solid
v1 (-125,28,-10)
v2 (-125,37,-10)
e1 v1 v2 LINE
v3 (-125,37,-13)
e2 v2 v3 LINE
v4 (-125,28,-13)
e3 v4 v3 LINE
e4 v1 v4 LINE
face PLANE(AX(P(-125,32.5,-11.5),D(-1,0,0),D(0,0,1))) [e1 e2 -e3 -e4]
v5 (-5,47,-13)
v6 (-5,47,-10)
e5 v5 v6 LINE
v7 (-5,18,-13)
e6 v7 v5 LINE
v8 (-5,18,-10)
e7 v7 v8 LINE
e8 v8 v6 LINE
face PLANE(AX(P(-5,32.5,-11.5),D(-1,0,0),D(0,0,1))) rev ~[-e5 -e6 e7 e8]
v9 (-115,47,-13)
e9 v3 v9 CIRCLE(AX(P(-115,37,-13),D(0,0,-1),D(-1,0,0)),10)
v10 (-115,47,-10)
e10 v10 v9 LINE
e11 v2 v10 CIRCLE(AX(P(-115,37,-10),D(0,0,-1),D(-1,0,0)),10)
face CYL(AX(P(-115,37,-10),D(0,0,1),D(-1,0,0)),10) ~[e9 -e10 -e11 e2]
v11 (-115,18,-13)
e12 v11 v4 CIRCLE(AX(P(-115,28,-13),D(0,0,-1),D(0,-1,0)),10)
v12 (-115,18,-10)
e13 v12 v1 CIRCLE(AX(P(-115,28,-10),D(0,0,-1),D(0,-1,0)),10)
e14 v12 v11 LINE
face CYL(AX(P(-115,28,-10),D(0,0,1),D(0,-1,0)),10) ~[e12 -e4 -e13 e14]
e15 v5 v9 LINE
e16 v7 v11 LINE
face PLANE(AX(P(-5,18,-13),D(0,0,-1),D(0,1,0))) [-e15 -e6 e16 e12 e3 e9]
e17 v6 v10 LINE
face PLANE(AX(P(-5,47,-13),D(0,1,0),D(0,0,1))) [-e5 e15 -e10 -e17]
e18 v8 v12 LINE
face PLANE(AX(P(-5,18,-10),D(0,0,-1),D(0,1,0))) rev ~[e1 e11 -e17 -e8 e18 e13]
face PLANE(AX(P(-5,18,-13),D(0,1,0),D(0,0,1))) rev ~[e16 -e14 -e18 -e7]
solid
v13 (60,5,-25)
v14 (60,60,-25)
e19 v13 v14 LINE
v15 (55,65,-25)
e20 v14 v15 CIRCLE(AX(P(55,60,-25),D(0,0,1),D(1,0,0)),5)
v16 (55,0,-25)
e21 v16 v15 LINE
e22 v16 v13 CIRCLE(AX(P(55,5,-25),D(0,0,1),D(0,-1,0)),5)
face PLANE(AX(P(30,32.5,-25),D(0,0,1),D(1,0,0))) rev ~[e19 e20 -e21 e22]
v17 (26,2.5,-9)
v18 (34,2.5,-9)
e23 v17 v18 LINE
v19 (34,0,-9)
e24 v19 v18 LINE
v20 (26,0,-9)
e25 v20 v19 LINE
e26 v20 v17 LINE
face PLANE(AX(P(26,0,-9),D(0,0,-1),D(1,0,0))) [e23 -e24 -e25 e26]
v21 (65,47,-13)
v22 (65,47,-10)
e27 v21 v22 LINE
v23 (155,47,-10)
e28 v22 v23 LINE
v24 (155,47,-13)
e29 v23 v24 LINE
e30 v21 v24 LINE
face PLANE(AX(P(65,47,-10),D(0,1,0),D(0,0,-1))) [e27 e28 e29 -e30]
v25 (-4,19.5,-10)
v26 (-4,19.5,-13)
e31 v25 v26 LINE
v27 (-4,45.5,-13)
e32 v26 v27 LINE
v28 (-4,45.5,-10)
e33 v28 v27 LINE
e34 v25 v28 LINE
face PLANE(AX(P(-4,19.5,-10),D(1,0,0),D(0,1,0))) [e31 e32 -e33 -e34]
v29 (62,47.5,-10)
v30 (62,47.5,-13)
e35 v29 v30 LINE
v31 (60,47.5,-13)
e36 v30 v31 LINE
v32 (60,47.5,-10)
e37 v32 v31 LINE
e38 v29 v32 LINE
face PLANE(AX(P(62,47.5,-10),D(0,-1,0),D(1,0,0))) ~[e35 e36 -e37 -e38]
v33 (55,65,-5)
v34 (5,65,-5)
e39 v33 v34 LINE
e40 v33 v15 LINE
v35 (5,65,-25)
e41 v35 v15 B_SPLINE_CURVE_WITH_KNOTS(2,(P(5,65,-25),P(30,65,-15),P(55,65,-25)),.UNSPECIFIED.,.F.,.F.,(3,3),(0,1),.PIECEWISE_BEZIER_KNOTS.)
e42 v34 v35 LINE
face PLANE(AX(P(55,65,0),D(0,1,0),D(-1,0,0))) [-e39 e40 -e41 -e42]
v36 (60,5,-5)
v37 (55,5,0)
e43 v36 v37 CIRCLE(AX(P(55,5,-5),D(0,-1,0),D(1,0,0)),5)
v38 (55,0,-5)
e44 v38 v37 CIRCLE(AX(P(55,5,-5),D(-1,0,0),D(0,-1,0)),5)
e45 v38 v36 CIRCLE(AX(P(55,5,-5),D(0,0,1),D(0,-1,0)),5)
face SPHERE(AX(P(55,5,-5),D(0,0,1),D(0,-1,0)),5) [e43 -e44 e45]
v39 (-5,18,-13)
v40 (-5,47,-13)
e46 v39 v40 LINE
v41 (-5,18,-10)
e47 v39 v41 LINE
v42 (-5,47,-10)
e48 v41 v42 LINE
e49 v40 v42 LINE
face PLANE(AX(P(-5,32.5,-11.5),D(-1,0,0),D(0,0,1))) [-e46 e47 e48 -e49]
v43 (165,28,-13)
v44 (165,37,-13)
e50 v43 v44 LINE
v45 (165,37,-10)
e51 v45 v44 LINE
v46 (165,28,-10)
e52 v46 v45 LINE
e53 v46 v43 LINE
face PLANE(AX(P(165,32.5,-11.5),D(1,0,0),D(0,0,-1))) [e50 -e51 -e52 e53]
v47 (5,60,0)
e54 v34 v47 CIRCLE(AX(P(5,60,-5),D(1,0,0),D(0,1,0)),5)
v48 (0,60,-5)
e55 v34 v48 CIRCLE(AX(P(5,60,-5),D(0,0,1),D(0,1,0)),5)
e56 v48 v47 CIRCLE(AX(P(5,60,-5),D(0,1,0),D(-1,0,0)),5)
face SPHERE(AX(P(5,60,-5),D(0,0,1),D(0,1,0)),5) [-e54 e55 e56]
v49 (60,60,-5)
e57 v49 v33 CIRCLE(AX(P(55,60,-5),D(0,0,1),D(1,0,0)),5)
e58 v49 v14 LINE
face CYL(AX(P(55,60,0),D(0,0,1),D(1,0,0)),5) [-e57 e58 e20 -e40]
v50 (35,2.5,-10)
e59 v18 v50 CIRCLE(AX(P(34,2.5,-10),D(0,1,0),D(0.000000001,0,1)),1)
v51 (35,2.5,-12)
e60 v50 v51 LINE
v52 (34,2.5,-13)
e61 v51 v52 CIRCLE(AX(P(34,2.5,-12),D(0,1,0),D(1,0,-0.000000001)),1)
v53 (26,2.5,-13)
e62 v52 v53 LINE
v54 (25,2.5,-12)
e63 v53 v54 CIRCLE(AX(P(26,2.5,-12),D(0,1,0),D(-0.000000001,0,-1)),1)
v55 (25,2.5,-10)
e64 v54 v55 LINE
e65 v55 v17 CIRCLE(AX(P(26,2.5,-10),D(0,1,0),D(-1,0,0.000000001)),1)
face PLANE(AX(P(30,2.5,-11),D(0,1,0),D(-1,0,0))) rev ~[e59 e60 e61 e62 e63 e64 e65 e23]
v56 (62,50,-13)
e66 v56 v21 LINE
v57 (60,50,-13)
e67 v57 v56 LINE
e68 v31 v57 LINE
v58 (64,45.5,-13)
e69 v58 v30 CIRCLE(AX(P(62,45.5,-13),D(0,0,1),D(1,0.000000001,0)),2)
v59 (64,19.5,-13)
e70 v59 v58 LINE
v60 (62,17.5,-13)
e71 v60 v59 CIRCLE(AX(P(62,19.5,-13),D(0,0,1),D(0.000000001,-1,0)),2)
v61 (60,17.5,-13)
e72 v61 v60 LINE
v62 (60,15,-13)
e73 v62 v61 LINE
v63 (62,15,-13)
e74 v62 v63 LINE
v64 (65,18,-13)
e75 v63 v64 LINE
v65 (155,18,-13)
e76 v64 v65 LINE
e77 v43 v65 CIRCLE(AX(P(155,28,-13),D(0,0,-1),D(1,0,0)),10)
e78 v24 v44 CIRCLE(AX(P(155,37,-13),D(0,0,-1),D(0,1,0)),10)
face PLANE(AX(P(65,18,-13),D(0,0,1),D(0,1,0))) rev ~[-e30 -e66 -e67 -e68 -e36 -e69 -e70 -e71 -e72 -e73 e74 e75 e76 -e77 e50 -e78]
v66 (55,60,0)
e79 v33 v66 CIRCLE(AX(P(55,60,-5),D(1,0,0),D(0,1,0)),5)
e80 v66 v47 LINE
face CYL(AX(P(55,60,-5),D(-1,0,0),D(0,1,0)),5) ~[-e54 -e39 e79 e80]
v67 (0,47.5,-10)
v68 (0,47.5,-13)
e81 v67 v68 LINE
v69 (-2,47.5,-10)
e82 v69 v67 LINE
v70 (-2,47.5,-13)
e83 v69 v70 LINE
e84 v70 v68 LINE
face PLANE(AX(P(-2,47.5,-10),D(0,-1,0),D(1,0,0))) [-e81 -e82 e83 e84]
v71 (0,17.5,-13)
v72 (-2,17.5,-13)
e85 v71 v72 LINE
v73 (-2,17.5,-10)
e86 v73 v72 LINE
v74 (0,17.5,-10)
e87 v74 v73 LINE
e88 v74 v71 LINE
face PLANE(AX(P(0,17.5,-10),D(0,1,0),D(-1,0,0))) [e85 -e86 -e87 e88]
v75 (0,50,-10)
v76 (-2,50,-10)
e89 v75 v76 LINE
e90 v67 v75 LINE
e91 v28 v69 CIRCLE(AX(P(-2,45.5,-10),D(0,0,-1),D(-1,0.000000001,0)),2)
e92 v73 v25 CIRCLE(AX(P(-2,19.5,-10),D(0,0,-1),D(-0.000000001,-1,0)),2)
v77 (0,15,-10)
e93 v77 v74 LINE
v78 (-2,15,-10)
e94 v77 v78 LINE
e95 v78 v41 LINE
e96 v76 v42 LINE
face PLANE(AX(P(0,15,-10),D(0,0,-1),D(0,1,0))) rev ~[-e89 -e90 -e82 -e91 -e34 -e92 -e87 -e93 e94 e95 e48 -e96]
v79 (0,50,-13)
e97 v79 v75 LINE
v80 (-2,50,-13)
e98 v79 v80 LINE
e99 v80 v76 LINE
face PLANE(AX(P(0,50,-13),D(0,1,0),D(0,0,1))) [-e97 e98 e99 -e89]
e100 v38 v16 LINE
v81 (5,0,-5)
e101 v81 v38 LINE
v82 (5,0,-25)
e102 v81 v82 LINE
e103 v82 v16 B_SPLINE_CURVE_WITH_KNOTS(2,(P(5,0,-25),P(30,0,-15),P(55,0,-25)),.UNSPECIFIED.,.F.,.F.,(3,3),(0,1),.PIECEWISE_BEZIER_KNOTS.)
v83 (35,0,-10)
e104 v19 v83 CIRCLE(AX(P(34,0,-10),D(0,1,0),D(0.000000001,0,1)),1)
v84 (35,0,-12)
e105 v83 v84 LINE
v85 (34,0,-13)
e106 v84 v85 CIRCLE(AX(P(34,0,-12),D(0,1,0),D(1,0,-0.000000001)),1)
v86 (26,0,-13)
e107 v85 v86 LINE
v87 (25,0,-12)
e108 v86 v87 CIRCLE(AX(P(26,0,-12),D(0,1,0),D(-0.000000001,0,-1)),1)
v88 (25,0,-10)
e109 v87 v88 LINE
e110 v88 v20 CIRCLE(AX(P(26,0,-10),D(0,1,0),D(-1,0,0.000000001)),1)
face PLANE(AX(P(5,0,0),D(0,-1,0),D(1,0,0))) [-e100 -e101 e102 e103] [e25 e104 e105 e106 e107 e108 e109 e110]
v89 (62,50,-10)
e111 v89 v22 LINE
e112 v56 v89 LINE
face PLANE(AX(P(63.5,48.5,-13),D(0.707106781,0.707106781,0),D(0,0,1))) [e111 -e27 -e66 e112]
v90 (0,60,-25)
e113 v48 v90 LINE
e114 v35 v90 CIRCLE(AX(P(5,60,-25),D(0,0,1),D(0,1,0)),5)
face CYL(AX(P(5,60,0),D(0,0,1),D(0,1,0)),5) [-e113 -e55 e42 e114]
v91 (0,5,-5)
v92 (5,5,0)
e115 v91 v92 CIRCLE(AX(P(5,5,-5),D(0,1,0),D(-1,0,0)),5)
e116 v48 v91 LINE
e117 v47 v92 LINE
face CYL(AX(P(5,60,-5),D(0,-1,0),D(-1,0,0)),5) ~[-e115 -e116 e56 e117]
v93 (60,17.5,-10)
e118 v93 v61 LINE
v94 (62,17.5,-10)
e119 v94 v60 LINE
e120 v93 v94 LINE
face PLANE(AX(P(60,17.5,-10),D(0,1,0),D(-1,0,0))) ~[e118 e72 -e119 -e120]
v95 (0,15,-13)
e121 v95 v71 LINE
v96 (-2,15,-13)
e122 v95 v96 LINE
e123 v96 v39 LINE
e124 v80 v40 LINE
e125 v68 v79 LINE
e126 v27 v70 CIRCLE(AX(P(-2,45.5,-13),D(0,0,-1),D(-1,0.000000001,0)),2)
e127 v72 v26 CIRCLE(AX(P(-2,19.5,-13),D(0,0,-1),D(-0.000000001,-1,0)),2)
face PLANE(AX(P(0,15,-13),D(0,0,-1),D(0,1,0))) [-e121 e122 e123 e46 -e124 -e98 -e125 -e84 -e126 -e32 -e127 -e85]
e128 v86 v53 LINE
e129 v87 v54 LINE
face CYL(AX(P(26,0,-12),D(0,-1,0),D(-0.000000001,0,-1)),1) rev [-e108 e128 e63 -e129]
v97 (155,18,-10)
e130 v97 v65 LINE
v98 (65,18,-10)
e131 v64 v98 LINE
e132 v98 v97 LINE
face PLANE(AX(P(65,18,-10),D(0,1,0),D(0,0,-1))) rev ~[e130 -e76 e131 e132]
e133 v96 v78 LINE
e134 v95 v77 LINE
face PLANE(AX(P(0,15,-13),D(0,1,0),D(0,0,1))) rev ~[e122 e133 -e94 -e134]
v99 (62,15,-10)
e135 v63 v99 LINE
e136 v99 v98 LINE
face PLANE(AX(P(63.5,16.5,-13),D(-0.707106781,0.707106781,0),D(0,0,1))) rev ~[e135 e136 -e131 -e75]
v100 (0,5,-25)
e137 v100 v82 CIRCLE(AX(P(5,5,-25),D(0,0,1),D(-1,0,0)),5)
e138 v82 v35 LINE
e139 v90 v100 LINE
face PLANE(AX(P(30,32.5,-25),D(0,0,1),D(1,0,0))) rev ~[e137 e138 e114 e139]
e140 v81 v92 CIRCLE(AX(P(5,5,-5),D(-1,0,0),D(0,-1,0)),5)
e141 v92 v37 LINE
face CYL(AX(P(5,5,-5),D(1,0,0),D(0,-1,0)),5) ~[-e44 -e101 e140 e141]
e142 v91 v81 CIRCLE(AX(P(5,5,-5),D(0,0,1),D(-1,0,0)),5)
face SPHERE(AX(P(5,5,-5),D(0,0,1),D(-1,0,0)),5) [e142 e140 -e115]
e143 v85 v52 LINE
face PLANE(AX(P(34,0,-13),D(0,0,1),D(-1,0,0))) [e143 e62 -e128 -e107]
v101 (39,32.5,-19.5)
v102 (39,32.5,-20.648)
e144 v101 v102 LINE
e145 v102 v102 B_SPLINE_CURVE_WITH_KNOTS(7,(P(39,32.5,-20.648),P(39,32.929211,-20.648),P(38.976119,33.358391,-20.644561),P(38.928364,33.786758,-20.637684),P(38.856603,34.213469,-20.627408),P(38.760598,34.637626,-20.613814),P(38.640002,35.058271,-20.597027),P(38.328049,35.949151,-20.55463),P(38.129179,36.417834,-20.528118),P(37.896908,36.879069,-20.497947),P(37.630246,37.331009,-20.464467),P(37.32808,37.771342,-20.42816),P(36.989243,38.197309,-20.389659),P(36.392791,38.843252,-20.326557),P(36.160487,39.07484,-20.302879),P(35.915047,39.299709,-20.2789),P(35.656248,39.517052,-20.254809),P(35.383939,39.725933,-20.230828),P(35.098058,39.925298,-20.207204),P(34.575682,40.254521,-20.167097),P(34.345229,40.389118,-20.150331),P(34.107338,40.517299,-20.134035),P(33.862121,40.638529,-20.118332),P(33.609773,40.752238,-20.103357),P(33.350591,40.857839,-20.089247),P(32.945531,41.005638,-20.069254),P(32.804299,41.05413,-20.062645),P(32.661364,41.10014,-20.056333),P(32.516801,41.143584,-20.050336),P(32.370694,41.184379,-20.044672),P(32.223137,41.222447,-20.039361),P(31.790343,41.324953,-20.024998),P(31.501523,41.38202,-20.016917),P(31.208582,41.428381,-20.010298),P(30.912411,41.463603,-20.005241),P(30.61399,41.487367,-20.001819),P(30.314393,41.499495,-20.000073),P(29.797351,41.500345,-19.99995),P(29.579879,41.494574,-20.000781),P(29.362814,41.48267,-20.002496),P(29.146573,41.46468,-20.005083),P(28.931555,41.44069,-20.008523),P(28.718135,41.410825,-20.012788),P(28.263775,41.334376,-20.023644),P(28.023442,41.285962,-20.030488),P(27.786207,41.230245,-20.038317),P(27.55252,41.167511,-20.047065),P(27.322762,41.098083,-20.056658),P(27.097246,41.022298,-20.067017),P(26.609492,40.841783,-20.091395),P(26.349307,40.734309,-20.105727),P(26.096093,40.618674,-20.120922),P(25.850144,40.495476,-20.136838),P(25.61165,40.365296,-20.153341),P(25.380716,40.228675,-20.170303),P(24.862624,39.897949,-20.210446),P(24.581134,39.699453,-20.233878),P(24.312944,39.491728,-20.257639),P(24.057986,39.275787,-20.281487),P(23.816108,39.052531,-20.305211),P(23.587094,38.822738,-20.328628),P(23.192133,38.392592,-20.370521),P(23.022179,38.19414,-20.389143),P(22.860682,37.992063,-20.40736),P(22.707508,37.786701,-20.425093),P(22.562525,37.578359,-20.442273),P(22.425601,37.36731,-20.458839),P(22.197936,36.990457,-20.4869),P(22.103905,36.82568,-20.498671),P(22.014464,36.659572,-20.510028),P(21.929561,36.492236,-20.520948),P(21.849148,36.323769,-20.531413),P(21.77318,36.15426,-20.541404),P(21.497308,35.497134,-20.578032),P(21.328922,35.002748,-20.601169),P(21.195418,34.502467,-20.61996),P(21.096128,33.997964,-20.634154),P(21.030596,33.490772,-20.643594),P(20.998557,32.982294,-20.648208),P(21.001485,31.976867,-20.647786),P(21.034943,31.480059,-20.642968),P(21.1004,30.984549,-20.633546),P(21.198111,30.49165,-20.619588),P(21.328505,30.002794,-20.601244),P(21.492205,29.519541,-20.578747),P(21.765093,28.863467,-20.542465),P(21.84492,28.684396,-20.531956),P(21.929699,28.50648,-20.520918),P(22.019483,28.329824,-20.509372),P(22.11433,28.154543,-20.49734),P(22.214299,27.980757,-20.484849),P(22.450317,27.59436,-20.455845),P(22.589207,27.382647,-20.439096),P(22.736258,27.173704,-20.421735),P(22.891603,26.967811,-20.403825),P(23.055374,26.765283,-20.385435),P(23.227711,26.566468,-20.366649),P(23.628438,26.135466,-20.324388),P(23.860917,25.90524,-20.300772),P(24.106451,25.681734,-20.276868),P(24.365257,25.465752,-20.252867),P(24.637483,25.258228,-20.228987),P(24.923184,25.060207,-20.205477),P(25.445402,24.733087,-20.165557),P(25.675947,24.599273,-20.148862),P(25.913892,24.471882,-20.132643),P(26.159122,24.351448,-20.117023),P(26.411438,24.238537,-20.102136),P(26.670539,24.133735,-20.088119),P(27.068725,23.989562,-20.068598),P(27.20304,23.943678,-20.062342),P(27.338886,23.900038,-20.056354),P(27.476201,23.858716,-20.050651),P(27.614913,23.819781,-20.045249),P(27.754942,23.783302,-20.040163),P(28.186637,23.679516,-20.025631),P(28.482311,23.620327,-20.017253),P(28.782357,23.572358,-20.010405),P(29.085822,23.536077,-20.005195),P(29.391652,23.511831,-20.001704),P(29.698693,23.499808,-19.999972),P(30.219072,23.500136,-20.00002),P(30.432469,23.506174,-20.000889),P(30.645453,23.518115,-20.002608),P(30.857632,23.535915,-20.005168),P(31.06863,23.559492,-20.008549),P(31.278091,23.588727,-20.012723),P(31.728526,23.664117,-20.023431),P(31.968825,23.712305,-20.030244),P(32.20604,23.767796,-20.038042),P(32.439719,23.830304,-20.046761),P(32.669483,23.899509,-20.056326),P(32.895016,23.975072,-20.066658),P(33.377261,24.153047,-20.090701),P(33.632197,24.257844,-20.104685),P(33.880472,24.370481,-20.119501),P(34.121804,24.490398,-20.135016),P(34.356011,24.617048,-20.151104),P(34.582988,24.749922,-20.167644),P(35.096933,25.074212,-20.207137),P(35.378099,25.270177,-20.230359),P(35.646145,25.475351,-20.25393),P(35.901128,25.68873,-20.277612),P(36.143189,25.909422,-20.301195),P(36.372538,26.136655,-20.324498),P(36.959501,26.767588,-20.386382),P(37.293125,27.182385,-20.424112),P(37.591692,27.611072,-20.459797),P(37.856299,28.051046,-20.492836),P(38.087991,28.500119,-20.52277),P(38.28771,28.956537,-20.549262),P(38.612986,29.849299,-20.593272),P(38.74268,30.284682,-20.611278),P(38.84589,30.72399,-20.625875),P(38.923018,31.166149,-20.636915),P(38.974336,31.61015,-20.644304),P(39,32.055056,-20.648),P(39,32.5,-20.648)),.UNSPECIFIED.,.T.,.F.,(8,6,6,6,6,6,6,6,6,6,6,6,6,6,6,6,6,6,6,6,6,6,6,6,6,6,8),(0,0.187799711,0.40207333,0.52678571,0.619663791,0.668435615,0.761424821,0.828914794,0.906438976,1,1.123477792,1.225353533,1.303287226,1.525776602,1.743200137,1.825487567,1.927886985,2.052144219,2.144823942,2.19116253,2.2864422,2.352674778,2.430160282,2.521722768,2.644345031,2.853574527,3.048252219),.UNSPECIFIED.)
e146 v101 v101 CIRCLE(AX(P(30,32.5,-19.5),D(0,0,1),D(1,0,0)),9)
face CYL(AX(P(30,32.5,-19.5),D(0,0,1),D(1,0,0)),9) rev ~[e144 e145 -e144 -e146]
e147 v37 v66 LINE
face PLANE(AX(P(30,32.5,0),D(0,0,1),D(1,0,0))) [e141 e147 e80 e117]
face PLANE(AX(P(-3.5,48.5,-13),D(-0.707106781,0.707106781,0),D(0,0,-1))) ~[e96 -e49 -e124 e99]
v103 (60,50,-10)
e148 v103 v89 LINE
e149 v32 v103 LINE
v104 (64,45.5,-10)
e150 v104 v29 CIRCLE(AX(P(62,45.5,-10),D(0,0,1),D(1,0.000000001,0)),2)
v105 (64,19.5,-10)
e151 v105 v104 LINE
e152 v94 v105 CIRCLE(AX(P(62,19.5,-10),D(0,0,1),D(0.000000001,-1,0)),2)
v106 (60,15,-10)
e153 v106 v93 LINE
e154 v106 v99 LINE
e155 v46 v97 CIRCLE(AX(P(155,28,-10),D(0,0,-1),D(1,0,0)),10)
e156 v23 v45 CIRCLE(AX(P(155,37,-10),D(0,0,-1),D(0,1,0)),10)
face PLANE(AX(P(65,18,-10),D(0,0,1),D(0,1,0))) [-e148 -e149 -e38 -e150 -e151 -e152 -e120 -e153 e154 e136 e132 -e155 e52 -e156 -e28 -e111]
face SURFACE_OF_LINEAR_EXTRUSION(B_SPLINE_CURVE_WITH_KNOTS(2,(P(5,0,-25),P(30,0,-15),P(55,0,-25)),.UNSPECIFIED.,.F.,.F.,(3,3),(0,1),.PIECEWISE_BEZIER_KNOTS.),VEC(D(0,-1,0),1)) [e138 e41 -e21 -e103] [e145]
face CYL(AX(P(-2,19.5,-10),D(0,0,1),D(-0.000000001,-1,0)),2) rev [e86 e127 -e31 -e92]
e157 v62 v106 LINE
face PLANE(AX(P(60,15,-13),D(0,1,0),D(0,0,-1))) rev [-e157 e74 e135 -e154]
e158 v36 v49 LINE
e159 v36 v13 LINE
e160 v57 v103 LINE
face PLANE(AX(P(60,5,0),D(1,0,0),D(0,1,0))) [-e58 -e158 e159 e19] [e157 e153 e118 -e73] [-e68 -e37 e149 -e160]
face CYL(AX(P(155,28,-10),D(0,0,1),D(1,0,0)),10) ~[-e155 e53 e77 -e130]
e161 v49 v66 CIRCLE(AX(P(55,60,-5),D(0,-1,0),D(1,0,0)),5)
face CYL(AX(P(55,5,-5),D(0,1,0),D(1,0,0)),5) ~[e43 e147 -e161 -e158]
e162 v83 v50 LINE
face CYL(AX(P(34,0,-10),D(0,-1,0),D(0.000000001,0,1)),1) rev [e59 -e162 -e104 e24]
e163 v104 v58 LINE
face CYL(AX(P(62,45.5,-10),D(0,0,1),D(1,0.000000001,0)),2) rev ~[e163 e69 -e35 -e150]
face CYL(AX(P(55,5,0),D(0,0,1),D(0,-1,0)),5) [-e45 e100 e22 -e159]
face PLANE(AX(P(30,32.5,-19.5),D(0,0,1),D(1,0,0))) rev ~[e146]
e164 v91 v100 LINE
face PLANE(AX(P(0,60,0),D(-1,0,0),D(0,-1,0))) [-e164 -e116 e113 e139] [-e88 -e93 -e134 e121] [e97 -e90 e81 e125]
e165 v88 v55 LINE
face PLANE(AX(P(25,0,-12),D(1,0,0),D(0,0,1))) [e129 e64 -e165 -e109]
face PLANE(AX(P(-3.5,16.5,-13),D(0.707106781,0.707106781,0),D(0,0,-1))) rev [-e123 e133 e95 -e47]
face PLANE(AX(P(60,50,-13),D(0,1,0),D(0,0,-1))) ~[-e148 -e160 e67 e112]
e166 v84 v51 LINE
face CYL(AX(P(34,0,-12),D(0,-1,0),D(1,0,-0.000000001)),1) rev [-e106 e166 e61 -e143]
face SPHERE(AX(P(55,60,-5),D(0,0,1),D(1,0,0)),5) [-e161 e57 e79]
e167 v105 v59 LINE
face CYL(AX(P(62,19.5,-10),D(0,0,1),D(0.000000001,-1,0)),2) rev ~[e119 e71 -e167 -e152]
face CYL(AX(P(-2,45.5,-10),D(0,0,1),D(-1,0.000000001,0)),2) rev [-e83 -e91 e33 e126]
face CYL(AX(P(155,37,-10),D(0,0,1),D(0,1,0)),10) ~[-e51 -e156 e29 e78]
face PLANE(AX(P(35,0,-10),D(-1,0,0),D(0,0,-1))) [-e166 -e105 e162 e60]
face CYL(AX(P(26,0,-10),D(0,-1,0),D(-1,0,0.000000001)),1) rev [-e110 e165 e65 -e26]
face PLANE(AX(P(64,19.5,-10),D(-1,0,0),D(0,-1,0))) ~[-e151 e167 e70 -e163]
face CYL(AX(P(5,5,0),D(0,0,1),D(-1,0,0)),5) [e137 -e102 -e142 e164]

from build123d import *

# Parameters (mm, degrees)
SALIENTE_EXTRUIR1_DEPTH = 25
REDONDEO1_R             = 5
CORTAR_EXTRUIR1_DEPTH   = 65
CROQUIS3_W              = 3
CROQUIS3_H              = 35
SALIENTE_EXTRUIR2_DEPTH = 5
CORTAR_EXTRUIR2_DEPTH   = 3
CHAFL_N2_SIZE           = 3
CHAFL_N3_SIZE           = 3
CROQUIS6_R              = 9
CORTAR_EXTRUIR5_DEPTH   = 1.5
CORTAR_EXTRUIR6_DEPTH   = 2.5
CROQUIS9_W              = 3
CROQUIS9_H              = 29
SALIENTE_EXTRUIR3_DEPTH = 120
CORTAR_EXTRUIR7_DEPTH   = 3
CROQUIS11_W             = 3
CROQUIS11_H             = 29
SALIENTE_EXTRUIR4_DEPTH = 100
CORTAR_EXTRUIR8_DEPTH   = 3


with BuildPart() as part:
    # Croquis1 → Saliente-Extruir1 (new body)
    with BuildSketch(Plane.XY):
        with BuildLine():
            Line((5, 0), (55, 0))
            ThreePointArc((55, 0), (58.535533906, 1.464466094), (60, 5))
            Line((60, 5), (60, 60))
            ThreePointArc((60, 60), (58.535533906, 63.535533906), (55, 65))
            Line((55, 65), (5, 65))
            ThreePointArc((5, 65), (1.464466094, 63.535533906), (0, 60))
            Line((0, 60), (0, 5))
            ThreePointArc((0, 5), (1.464466094, 1.464466094), (5, 0))
        make_face()
    extrude(amount=-SALIENTE_EXTRUIR1_DEPTH)

    # Redondeo1
    redondeo1_edges = [part.edges().sort_by_distance(p)[0] for p in [
        (30, 0, 0),
        (1.464466094, 1.464466094, 0),
        (0, 32.5, 0),
        (1.464466094, 63.535533906, 0),
        (30, 65, 0),
        (58.535533906, 63.535533906, 0),
        (60, 32.5, 0),
        (58.535533906, 1.464466094, 0),
    ]]
    fillet(redondeo1_edges, radius=REDONDEO1_R)

    # Croquis2 → Cortar-Extruir1 (cut)
    with BuildSketch(Plane.XZ):
        with BuildLine():
            Line((5, -25), (55, -25))
            add(Edge.make_bspline(
                [(5, -25), (30, -15), (55, -25)],
                knots=[0, 0, 0, 1, 1, 1], degree=2))
        make_face()
    extrude(amount=-CORTAR_EXTRUIR1_DEPTH, mode=Mode.SUBTRACT)

    # Croquis3 → Saliente-Extruir2 (add)
    with BuildSketch(Plane.ZY):
        with Locations((-11.5, 32.5)):
            Rectangle(CROQUIS3_W, CROQUIS3_H)
    saliente_extruir2 = extrude(amount=SALIENTE_EXTRUIR2_DEPTH)

    # Croquis4 → Cortar-Extruir2 (cut)
    with BuildSketch(Plane.XY.offset(-10)):
        with BuildLine():
            Line((-2, 47.5), (0, 47.5))
            Line((0, 47.5), (0, 17.5))
            Line((0, 17.5), (-2, 17.5))
            ThreePointArc((-2, 17.5), (-3.414213562, 18.085786438), (-4, 19.5))
            Line((-4, 19.5), (-4, 45.5))
            ThreePointArc((-4, 45.5), (-3.414213562, 46.914213562), (-2, 47.5))
        make_face()
    cortar_extruir2 = extrude(amount=-CORTAR_EXTRUIR2_DEPTH, mode=Mode.SUBTRACT)

    # Chaflán2
    chafl_n2_edges = [part.edges().sort_by_distance(p)[0] for p in [
        (-5, 15, -11.5),
        (-5, 50, -11.5),
    ]]
    chamfer(chafl_n2_edges, length=CHAFL_N2_SIZE)

    # Simetría1: Saliente-Extruir2 across plane
    add(saliente_extruir2.mirror(Plane(origin=(30, 0, 0), x_dir=(0, 0, 1), z_dir=(1, 0, 0))))

    # Simetría2: Cortar-Extruir2 across plane
    add(cortar_extruir2.mirror(Plane(origin=(30, 0, 0), x_dir=(0, 0, 1), z_dir=(1, 0, 0))), mode=Mode.SUBTRACT)

    # Chaflán3
    chafl_n3_edges = [part.edges().sort_by_distance(p)[0] for p in [
        (65, 15, -11.5),
        (65, 50, -11.5),
    ]]
    chamfer(chafl_n3_edges, length=CHAFL_N3_SIZE)

    # Croquis6 → Cortar-Extruir5 (cut)
    with BuildSketch(Plane.XY.offset(-19.5)):
        with Locations((30, 32.5)):
            Circle(CROQUIS6_R)
    extrude(amount=-CORTAR_EXTRUIR5_DEPTH, mode=Mode.SUBTRACT)

    # Croquis7 → Cortar-Extruir6 (cut)
    with BuildSketch(Plane.XZ):
        with BuildLine():
            Line((26, -9), (34, -9))
            ThreePointArc((34, -9), (34.707106781, -9.292893219), (35, -10))
            Line((35, -10), (35, -12))
            ThreePointArc((35, -12), (34.707106781, -12.707106781), (34, -13))
            Line((34, -13), (26, -13))
            ThreePointArc((26, -13), (25.292893219, -12.707106781), (25, -12))
            Line((25, -12), (25, -10))
            ThreePointArc((25, -10), (25.292893219, -9.292893219), (26, -9))
        make_face()
    extrude(amount=-CORTAR_EXTRUIR6_DEPTH, mode=Mode.SUBTRACT)

    # Croquis11 → Saliente-Extruir4 (add)
    with BuildSketch(Plane(origin=(65, 0, 0), x_dir=(0, 0, -1), z_dir=(1, 0, 0))):
        with Locations((11.5, 32.5)):
            Rectangle(CROQUIS11_W, CROQUIS11_H)
    extrude(amount=SALIENTE_EXTRUIR4_DEPTH)

    # Croquis12 → Cortar-Extruir8 (cut)
    with BuildSketch(Plane.XY.offset(-10)):
        with BuildLine():
            ThreePointArc((165, 28), (162.071067812, 20.928932188), (155, 18))
            Line((155, 18), (165, 18))
            Line((165, 18), (165, 28))
        make_face()
        with BuildLine():
            Line((165, 47), (155, 47))
            ThreePointArc((155, 47), (162.071067812, 44.071067812), (165, 37))
            Line((165, 37), (165, 47))
        make_face()
    extrude(amount=-CORTAR_EXTRUIR8_DEPTH, mode=Mode.SUBTRACT)


with BuildPart() as body_2:
    # Croquis9 → Saliente-Extruir3 (new body)
    with BuildSketch(Plane.ZY.offset(5)):
        with Locations((-11.5, 32.5)):
            Rectangle(CROQUIS9_W, CROQUIS9_H)
    extrude(amount=SALIENTE_EXTRUIR3_DEPTH)

    # Croquis10 → Cortar-Extruir7 (cut)
    with BuildSketch(Plane.XY.offset(-10)):
        with BuildLine():
            ThreePointArc((-125, 37), (-122.071067812, 44.071067812), (-115, 47))
            Line((-115, 47), (-125, 47))
            Line((-125, 47), (-125, 37))
        make_face()
        with BuildLine():
            Line((-125, 18), (-115, 18))
            ThreePointArc((-115, 18), (-122.071067812, 20.928932188), (-125, 28))
            Line((-125, 28), (-125, 18))
        make_face()
    extrude(amount=-CORTAR_EXTRUIR7_DEPTH, mode=Mode.SUBTRACT)


solid = Compound([part.part, body_2.part])
